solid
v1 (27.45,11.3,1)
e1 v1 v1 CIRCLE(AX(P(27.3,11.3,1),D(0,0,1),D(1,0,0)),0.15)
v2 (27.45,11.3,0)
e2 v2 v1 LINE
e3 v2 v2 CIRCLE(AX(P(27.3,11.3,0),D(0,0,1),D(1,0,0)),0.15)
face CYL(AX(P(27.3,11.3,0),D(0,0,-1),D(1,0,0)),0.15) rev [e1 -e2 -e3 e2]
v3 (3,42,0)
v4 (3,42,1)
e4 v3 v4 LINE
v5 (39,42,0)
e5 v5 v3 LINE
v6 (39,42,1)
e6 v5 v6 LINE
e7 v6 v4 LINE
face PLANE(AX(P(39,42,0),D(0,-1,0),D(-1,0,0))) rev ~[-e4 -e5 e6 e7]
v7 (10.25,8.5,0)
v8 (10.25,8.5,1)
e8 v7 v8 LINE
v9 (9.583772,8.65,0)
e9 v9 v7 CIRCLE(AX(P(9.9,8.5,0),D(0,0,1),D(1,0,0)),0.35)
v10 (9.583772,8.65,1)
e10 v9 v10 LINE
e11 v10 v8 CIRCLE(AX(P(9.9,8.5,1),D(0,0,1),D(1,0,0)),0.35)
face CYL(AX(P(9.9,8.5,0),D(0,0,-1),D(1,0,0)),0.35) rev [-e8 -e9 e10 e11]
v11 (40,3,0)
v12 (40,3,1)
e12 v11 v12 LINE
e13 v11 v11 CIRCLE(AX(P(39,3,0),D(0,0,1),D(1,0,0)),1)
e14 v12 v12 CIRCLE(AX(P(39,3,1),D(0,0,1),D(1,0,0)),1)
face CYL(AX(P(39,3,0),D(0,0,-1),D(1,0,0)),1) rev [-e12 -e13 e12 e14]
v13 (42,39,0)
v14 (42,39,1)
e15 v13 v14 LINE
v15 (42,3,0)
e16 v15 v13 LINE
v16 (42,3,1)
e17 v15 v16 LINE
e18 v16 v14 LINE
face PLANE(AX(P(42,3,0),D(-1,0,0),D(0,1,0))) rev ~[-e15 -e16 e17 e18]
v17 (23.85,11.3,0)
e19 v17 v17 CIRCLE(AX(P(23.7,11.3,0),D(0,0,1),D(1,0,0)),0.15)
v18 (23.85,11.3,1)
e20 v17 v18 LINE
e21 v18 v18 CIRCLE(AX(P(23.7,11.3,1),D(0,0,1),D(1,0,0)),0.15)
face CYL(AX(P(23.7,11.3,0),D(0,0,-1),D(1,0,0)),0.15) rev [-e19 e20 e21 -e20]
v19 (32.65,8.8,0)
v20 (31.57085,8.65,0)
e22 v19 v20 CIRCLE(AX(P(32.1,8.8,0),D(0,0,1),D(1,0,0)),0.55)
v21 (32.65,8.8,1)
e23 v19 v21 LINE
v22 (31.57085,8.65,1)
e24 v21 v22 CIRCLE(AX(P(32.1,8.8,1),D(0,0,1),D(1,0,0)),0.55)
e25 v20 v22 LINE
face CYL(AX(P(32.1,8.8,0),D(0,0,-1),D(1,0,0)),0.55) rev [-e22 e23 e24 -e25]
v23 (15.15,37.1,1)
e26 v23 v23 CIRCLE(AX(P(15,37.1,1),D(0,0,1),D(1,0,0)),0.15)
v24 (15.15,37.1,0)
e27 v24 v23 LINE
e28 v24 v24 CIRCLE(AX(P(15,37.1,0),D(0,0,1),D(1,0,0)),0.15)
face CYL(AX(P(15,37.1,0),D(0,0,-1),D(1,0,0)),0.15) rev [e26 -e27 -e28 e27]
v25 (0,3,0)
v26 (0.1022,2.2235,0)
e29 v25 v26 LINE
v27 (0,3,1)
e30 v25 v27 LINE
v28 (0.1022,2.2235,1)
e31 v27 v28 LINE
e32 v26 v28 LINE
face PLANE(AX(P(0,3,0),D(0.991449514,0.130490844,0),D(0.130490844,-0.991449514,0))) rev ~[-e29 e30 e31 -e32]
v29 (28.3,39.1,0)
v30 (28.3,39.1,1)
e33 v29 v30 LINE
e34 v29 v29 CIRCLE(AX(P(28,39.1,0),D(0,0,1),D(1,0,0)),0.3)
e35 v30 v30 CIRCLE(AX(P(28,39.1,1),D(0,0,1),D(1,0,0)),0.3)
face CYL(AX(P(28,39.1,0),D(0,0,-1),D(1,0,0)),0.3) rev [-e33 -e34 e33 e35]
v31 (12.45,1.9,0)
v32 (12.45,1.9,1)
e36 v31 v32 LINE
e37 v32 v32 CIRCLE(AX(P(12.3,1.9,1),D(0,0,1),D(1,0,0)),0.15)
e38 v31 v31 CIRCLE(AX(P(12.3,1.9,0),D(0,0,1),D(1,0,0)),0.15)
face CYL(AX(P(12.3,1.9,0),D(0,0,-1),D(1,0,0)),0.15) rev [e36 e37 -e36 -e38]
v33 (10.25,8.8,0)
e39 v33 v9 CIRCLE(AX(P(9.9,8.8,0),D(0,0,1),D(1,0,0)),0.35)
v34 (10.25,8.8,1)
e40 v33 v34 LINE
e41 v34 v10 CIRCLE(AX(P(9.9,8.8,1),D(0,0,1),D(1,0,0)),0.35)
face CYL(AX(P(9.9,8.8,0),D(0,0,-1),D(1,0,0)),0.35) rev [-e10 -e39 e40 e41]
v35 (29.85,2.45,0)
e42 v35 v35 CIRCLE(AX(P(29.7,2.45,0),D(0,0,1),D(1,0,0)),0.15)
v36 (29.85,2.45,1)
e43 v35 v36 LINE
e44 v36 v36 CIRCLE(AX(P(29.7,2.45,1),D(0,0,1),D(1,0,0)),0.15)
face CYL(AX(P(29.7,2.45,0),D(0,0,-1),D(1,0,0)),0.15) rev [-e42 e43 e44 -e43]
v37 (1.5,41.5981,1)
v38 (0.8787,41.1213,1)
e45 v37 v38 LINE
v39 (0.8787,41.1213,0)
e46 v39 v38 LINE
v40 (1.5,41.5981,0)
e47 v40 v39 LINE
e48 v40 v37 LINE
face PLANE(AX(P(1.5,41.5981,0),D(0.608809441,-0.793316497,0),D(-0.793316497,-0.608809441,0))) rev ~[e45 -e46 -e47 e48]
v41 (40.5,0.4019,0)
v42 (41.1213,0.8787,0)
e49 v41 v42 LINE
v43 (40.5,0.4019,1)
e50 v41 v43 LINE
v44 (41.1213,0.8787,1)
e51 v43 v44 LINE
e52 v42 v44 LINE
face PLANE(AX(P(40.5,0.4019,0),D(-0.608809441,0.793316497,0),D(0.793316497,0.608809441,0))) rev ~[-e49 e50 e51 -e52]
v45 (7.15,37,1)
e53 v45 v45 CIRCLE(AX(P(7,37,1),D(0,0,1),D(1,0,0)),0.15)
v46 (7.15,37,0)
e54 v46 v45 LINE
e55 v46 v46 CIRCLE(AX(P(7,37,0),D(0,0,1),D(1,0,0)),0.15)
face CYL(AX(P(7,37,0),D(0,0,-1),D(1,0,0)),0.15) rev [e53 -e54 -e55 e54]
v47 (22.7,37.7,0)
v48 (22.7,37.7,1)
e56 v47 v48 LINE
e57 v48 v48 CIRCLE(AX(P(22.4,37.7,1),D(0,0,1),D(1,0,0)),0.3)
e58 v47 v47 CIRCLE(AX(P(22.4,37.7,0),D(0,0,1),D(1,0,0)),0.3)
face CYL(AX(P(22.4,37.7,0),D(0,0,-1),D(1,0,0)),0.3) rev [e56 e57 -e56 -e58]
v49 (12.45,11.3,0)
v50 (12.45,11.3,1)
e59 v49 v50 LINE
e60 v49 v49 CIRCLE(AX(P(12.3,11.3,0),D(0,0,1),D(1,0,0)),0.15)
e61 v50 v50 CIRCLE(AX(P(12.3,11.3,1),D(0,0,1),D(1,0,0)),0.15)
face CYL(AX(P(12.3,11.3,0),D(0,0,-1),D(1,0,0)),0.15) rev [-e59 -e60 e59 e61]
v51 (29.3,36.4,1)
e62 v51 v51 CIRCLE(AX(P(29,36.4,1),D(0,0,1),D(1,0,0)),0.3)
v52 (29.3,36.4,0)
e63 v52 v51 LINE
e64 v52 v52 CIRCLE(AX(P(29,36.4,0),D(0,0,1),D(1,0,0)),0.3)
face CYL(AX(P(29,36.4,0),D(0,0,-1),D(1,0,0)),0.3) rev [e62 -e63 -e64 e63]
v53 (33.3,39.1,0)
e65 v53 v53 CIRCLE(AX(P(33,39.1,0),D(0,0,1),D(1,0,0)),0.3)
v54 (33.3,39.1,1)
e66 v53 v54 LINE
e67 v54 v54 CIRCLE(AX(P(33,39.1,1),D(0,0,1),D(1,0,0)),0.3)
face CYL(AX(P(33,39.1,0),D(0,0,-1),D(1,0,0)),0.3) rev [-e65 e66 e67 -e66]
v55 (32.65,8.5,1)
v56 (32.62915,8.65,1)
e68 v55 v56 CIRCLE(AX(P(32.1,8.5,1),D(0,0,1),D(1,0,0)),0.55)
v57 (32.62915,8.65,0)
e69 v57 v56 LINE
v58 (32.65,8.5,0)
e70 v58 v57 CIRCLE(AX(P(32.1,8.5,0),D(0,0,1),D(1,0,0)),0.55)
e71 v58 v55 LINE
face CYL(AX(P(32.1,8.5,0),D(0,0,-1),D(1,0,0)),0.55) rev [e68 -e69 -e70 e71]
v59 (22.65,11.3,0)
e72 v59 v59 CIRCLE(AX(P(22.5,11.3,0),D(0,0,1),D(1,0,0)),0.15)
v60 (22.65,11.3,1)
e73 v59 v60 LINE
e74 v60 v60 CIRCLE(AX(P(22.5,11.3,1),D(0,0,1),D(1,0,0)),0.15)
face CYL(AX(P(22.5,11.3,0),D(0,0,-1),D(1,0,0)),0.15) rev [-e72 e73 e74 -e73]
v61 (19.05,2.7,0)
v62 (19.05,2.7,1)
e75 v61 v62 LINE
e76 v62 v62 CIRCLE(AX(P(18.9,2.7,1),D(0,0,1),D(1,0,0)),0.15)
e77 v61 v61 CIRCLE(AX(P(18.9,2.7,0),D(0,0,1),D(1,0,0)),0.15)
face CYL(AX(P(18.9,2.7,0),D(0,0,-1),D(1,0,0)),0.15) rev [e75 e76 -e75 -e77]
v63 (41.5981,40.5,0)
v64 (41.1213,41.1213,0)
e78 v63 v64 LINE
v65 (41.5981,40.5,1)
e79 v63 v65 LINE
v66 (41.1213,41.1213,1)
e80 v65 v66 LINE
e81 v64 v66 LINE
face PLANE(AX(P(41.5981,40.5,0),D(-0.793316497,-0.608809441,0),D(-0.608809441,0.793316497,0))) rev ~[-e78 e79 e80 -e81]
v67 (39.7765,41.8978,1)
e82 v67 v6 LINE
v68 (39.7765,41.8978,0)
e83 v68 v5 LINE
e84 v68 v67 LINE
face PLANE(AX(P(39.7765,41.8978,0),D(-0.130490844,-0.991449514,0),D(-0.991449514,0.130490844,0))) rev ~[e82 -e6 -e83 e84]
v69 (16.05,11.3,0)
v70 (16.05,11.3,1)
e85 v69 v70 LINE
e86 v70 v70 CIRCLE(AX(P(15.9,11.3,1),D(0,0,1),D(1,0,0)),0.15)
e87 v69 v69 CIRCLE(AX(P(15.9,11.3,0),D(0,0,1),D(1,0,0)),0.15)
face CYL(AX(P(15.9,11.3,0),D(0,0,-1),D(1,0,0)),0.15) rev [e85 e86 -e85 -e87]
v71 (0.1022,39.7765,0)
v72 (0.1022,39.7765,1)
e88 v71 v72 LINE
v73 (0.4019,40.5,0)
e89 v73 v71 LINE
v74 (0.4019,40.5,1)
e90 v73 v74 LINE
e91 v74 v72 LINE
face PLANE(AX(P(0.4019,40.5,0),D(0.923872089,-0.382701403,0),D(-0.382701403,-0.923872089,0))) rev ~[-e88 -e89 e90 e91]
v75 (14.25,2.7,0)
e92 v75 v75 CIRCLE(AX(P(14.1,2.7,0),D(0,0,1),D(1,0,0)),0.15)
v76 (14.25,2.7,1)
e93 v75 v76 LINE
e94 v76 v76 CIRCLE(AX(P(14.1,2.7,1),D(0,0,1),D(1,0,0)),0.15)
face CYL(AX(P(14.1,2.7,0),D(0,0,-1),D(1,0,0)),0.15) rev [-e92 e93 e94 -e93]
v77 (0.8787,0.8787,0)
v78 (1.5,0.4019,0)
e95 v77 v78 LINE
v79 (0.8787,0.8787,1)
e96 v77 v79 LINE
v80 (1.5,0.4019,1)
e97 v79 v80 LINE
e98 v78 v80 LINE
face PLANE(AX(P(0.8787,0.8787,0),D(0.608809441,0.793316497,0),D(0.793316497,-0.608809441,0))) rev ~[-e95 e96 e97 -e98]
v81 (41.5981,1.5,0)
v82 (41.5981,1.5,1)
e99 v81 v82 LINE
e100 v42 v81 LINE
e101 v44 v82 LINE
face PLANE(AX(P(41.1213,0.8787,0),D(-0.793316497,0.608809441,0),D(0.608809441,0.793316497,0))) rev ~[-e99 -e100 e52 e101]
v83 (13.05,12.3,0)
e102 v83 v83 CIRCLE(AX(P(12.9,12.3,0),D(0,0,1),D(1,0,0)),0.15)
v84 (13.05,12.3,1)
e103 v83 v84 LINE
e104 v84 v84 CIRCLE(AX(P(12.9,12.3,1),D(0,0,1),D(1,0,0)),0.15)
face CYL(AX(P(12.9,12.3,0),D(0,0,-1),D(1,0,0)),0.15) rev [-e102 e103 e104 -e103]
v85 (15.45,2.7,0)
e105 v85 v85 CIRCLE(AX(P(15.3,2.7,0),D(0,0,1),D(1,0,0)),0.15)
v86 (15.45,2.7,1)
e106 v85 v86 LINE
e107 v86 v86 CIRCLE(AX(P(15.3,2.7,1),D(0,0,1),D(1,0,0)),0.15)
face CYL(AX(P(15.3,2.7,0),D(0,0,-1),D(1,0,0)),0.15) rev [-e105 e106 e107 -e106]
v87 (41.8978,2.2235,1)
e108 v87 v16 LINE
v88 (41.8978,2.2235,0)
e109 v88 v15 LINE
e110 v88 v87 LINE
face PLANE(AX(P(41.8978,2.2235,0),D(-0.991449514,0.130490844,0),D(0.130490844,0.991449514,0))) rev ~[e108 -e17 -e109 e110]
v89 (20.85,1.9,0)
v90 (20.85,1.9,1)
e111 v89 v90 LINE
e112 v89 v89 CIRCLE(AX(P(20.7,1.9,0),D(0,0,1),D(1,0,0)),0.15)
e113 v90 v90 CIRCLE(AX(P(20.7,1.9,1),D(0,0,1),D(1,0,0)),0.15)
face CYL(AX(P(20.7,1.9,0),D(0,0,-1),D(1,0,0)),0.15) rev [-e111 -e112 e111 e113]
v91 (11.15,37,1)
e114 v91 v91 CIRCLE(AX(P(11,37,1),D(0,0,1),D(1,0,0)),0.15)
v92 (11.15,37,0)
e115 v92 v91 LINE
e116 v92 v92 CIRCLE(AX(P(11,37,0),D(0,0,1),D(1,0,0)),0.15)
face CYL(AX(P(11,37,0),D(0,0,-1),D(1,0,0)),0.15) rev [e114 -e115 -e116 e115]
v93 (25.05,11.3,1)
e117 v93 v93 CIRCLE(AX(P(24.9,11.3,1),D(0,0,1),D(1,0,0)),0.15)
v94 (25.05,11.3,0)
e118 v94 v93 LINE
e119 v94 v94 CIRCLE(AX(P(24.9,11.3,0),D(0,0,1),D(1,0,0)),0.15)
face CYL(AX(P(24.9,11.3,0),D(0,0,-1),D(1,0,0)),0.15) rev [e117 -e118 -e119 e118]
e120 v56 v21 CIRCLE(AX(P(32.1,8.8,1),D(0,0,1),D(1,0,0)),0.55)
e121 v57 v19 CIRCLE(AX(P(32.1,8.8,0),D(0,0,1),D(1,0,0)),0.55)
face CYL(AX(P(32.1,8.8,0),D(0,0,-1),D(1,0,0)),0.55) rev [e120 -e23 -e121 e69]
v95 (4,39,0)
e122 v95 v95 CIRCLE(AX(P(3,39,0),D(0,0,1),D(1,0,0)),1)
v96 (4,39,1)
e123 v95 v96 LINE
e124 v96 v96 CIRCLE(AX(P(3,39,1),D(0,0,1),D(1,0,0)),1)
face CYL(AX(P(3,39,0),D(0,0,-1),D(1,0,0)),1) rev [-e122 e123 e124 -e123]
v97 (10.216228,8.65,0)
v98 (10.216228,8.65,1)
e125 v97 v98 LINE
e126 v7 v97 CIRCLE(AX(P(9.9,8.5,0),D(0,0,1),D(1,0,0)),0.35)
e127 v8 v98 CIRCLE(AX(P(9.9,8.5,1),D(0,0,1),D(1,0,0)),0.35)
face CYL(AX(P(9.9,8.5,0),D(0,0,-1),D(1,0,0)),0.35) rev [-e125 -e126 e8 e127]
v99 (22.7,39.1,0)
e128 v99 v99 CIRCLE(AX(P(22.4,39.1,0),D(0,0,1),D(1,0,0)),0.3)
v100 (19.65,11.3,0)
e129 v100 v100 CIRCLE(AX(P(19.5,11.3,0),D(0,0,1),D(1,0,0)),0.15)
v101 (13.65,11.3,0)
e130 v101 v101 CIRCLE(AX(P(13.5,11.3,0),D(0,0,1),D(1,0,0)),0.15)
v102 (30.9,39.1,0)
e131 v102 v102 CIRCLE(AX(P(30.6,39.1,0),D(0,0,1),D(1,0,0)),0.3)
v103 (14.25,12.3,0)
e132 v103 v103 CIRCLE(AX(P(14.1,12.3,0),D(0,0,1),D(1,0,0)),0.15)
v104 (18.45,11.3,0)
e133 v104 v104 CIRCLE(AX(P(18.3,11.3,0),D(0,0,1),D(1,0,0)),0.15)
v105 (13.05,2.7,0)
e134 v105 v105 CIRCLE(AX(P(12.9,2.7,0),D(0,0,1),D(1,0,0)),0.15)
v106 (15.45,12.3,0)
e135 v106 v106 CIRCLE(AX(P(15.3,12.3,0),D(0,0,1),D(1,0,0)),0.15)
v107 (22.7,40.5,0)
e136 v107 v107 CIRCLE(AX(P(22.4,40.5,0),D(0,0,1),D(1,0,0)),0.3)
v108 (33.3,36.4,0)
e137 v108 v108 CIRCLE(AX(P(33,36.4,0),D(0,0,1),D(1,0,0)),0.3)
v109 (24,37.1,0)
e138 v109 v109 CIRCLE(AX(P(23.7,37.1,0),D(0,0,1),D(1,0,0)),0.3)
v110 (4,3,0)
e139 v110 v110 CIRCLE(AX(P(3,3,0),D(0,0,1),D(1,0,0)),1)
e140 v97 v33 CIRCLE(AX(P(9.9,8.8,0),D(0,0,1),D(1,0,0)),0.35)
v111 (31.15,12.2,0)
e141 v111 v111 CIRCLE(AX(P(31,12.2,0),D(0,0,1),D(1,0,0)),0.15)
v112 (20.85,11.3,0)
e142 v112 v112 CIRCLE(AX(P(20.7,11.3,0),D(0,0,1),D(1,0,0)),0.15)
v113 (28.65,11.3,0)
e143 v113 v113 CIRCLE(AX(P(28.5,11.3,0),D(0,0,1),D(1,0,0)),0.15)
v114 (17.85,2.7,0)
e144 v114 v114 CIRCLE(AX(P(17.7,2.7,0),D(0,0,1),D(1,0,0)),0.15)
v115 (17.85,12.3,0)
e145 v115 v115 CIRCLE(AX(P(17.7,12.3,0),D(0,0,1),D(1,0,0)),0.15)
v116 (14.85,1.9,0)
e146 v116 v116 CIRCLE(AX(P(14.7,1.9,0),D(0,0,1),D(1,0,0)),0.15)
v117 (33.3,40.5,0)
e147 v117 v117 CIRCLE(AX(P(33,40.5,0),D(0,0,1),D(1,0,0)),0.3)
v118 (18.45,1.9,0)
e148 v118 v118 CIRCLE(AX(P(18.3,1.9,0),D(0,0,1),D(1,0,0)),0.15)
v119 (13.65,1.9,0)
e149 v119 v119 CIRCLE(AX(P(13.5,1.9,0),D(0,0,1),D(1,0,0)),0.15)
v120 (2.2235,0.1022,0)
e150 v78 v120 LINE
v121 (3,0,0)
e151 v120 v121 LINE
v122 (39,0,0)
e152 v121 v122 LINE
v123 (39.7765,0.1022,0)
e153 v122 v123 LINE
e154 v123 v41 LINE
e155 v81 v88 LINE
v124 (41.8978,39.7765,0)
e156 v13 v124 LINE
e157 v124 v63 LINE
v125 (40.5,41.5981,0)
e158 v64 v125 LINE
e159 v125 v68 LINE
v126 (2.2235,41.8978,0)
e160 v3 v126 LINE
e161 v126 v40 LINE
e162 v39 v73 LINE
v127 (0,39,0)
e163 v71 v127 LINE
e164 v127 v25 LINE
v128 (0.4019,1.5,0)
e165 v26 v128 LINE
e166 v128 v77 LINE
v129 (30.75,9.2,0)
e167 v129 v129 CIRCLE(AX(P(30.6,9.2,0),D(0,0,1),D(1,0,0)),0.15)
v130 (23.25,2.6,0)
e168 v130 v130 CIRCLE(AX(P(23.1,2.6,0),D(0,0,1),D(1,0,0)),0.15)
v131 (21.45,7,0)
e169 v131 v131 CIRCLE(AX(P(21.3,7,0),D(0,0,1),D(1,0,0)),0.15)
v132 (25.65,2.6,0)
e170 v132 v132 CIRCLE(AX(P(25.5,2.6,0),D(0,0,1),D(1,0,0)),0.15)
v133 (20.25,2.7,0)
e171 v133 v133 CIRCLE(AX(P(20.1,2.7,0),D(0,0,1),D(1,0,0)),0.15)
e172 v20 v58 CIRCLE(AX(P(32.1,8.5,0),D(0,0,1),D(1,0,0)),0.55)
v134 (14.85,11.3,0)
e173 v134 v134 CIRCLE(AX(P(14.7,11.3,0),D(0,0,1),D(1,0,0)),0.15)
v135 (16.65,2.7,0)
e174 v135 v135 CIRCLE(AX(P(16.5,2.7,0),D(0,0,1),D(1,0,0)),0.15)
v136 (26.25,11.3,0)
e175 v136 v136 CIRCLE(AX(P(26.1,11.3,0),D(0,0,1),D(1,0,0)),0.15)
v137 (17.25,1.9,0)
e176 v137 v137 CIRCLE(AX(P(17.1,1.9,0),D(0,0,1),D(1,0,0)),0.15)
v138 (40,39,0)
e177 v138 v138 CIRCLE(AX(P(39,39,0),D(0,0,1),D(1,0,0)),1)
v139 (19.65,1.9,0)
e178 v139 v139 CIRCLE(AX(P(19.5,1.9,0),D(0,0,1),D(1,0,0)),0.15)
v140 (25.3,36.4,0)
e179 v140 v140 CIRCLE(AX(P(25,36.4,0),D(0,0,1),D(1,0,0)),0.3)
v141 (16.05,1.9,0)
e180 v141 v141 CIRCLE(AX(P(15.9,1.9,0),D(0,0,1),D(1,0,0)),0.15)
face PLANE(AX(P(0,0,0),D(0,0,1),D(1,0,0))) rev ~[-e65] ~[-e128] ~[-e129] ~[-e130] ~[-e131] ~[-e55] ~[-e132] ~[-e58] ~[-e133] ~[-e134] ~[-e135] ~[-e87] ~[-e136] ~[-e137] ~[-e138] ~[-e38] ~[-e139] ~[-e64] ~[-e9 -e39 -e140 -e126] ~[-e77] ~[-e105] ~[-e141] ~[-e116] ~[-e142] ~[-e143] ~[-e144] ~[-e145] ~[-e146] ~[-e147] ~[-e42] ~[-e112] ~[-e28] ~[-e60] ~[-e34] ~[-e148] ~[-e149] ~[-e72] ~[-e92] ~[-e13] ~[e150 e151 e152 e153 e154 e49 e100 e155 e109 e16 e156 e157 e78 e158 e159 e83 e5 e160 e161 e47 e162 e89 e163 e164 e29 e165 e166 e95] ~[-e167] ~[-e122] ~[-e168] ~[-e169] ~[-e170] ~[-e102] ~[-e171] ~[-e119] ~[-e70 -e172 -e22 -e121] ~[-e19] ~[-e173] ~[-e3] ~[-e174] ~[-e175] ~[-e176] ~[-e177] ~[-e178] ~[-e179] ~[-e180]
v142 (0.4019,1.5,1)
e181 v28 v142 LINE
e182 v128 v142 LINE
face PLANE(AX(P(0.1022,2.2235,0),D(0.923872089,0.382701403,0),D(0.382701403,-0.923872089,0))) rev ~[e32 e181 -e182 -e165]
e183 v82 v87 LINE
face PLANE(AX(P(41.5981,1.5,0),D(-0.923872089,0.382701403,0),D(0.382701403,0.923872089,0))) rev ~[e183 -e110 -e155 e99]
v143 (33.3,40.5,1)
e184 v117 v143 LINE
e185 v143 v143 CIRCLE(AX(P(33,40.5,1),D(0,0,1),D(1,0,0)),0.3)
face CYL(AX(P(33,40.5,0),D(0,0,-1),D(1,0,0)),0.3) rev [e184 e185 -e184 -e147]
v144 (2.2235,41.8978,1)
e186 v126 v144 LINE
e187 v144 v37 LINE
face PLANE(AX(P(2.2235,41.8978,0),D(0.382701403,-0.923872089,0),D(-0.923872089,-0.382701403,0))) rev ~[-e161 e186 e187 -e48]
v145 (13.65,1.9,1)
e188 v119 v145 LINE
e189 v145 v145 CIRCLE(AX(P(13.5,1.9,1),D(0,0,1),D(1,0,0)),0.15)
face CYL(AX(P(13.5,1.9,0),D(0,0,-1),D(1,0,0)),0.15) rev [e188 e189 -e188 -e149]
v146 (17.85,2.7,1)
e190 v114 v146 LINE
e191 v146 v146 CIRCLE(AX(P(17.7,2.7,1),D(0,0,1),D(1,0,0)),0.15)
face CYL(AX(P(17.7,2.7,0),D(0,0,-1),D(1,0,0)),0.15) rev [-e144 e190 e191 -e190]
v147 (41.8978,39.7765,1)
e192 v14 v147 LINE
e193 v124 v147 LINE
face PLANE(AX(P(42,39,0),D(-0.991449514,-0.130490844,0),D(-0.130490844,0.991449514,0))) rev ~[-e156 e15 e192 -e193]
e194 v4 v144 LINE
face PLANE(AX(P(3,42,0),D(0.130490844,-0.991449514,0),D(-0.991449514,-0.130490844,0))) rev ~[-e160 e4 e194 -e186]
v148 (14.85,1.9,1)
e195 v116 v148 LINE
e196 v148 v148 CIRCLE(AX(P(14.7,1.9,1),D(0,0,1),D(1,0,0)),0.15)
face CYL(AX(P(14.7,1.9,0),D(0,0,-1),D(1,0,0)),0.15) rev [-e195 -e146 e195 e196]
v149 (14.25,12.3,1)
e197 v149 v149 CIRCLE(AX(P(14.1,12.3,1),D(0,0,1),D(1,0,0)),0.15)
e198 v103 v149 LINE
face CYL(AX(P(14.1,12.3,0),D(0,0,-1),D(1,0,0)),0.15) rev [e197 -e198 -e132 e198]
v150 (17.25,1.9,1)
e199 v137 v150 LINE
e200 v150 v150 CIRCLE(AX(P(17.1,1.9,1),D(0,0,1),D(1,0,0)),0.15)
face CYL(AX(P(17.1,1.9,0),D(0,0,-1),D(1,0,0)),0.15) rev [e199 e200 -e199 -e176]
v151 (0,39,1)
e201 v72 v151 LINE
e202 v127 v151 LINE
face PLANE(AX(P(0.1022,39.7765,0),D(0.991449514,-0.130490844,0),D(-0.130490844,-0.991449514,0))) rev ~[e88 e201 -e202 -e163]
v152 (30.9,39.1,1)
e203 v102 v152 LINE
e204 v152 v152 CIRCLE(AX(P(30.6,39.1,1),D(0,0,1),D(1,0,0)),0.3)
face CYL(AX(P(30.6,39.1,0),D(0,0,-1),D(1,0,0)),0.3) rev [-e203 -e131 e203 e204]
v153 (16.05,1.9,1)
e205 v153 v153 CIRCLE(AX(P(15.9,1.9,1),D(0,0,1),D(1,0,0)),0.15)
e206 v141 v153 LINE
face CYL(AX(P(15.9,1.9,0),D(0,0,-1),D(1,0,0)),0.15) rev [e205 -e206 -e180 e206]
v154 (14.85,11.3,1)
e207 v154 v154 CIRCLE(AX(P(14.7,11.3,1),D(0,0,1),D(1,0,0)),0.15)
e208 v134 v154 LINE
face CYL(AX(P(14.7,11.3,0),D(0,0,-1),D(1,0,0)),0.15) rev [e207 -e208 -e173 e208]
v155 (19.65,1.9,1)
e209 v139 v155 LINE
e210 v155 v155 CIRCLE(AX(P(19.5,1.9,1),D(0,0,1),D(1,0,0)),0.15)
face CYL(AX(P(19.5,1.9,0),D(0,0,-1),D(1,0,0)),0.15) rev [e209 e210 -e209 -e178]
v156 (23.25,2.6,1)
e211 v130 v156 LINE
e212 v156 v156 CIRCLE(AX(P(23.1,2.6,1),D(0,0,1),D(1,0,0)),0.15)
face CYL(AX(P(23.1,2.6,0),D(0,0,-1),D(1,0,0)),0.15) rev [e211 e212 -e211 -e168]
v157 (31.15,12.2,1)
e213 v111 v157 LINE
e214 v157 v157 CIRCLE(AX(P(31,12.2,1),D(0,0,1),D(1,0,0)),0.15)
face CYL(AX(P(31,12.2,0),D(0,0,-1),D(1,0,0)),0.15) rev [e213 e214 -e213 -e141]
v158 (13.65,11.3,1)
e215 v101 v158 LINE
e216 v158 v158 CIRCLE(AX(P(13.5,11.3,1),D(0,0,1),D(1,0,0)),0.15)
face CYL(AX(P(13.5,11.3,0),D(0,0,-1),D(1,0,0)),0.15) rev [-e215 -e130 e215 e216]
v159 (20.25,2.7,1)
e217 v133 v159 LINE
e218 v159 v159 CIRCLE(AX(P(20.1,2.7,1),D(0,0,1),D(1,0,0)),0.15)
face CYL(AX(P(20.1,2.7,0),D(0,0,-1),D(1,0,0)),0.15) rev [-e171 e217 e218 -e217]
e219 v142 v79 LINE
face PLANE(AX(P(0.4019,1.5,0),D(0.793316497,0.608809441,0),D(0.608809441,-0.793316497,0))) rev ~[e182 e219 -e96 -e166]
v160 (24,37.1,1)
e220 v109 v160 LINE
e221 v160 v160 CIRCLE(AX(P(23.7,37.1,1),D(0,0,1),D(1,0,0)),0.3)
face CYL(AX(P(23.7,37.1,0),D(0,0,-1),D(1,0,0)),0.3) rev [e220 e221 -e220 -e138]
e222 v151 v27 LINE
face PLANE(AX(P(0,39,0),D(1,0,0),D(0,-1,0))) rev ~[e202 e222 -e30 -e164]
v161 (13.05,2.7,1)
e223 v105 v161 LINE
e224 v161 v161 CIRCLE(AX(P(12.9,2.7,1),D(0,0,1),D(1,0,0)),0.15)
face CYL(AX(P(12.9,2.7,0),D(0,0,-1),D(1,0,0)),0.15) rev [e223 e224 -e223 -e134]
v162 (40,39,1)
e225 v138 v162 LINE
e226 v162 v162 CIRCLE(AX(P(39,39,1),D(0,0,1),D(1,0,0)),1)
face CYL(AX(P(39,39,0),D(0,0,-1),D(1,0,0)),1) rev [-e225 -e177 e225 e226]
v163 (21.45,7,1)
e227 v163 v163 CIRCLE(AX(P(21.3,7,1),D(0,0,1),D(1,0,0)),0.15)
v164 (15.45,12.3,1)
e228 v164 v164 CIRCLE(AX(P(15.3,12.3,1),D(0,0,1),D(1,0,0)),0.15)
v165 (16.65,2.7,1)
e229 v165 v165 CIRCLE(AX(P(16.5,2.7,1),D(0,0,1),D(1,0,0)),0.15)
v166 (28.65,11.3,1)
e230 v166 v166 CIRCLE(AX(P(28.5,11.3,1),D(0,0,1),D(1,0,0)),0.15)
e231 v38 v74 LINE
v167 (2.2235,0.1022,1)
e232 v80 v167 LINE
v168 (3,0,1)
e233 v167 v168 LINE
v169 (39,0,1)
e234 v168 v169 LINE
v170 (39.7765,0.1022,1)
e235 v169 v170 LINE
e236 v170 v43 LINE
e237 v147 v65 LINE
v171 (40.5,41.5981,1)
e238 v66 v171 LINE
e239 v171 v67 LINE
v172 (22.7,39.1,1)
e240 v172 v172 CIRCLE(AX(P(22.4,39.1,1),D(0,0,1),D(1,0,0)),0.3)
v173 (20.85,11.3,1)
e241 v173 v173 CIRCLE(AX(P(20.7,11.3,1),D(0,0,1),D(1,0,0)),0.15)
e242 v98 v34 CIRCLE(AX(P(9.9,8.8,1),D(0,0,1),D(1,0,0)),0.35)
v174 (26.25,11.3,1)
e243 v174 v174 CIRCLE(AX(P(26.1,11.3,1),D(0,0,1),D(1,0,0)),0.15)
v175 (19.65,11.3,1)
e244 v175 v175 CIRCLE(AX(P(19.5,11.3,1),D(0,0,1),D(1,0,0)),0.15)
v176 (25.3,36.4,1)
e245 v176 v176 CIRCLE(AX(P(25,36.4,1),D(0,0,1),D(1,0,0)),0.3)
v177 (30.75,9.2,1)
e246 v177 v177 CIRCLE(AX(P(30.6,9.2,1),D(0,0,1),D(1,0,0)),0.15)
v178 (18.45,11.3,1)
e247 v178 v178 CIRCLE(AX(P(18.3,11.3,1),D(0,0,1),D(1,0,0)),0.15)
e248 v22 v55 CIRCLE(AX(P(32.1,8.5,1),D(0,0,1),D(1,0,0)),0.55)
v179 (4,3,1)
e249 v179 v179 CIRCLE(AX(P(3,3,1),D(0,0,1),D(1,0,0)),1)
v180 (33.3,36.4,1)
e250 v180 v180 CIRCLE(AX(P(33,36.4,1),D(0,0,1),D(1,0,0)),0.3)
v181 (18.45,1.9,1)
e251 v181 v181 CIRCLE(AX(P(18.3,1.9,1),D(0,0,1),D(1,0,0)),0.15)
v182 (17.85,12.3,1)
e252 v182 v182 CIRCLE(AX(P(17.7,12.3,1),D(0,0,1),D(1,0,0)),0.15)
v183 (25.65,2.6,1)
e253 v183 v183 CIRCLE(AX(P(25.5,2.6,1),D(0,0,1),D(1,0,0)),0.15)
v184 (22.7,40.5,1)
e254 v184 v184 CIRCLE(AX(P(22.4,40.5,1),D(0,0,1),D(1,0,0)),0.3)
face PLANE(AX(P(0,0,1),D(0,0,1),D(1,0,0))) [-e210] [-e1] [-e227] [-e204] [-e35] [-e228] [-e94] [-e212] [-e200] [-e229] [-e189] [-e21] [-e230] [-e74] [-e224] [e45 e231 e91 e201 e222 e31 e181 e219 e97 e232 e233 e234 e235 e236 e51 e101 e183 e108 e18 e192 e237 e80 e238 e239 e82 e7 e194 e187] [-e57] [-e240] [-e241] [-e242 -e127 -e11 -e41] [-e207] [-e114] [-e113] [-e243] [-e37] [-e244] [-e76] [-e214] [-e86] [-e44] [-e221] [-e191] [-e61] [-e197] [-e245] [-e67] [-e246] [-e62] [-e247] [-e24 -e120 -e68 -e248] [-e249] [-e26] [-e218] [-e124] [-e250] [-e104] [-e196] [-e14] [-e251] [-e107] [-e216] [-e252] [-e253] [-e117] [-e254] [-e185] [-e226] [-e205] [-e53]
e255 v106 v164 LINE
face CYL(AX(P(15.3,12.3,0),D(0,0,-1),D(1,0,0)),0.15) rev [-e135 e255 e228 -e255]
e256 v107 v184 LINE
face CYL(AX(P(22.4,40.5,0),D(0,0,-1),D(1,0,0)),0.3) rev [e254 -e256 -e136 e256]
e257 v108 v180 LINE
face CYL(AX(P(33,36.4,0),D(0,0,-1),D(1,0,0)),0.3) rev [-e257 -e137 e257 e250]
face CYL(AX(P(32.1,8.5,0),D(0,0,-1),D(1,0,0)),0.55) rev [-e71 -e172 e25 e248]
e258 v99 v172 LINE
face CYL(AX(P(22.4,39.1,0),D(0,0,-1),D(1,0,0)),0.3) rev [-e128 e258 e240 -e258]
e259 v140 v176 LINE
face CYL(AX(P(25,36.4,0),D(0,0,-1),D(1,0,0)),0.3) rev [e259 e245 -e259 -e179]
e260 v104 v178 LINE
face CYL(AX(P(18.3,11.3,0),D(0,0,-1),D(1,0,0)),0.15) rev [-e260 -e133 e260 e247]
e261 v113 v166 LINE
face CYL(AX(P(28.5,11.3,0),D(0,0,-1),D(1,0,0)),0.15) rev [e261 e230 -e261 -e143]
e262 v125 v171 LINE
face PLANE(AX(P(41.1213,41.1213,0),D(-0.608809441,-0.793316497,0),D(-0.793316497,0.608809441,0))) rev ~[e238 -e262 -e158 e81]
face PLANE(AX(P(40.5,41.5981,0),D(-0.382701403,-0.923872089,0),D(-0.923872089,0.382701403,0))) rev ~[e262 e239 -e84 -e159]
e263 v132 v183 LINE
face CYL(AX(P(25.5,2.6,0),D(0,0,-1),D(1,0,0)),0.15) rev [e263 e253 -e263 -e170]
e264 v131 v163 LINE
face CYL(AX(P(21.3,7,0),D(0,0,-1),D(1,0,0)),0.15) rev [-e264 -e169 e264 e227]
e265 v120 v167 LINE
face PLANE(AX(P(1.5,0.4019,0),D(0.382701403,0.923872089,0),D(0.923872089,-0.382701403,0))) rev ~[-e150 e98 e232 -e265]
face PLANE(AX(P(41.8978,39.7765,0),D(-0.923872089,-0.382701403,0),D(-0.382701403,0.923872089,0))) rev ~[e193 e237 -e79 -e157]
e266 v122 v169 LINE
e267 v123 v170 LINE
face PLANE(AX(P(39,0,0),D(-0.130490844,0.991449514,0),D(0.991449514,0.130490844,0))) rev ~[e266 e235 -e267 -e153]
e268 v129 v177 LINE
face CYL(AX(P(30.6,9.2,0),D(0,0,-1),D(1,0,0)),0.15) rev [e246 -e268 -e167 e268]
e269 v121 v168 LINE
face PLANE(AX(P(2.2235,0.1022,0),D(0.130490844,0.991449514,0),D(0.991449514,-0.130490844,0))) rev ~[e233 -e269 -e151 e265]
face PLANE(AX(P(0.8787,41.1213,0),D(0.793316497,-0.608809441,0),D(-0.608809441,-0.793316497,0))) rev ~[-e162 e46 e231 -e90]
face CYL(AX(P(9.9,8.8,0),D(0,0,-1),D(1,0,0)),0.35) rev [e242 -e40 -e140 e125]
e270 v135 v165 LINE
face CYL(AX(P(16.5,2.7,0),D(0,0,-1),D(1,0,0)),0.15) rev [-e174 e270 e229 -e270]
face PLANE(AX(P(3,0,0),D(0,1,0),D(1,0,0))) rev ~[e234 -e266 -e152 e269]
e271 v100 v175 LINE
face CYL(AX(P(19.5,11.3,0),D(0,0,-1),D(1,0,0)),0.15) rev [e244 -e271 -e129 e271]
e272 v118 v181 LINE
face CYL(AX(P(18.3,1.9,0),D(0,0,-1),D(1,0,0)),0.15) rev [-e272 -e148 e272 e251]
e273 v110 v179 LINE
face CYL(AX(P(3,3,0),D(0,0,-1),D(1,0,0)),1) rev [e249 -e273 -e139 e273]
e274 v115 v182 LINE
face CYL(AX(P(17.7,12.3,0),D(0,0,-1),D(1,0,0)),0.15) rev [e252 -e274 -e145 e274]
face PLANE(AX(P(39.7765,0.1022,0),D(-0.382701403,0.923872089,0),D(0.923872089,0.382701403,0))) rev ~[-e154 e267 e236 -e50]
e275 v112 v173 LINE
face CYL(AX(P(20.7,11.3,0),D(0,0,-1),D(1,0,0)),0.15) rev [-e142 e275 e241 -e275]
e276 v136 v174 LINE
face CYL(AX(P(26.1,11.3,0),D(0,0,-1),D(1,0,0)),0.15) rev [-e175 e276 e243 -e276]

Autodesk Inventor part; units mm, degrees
ref_plane "YZ Plane" through (0, 0, 0) normal (1, 0, 0) x (0, 1, 0)
ref_plane "XZ Plane" through (0, 0, 0) normal (0, 1, 0) x (-1, 0, 0)
ref_plane "XY Plane" through (0, 0, 0) normal (0, 0, 1) x (1, 0, 0)
sketch "Sketch1" plane through (0, 0, 0) normal (0, 0, 1) x (1, 0, 0)
  line L0 (42, 3) -> (42, 39)
  line L1 (42, 39) -> (41.8978, 39.7765)
  line L2 (41.8978, 39.7765) -> (41.5981, 40.5)
  line L3 (41.5981, 40.5) -> (41.1213, 41.1213)
  line L4 (41.1213, 41.1213) -> (40.5, 41.5981)
  line L5 (40.5, 41.5981) -> (39.7765, 41.8978)
  line L6 (39.7765, 41.8978) -> (39, 42)
  line L7 (39, 42) -> (3, 42)
  line L8 (3, 42) -> (2.2235, 41.8978)
  line L9 (2.2235, 41.8978) -> (1.5, 41.5981)
  line L10 (1.5, 41.5981) -> (0.8787, 41.1213)
  line L11 (0.8787, 41.1213) -> (0.4019, 40.5)
  line L12 (0.4019, 40.5) -> (0.1022, 39.7765)
  line L13 (0.1022, 39.7765) -> (0, 39)
  line L14 (0, 39) -> (0, 3)
  line L15 (0, 3) -> (0.1022, 2.2235)
  line L16 (0.1022, 2.2235) -> (0.4019, 1.5)
  line L17 (0.4019, 1.5) -> (0.8787, 0.8787)
  line L18 (0.8787, 0.8787) -> (1.5, 0.4019)
  line L19 (1.5, 0.4019) -> (2.2235, 0.1022)
  line L20 (2.2235, 0.1022) -> (3, 0)
  line L21 (3, 0) -> (39, 0)
  line L22 (39, 0) -> (39.7765, 0.1022)
  line L23 (39.7765, 0.1022) -> (40.5, 0.4019)
  line L24 (40.5, 0.4019) -> (41.1213, 0.8787)
  line L25 (41.1213, 0.8787) -> (41.5981, 1.5)
  line L26 (41.5981, 1.5) -> (41.8978, 2.2235)
  line L27 (41.8978, 2.2235) -> (42, 3)
  circle A0 centre (32.1, 8.8) radius 0.55
  circle A1 centre (9.9, 8.8) radius 0.35
  circle A2 centre (32.1, 8.5) radius 0.55
  circle A3 centre (9.9, 8.5) radius 0.35
  circle A4 centre (14.1, 12.3) radius 0.15
  circle A5 centre (29.7, 2.45) radius 0.15
  circle A6 centre (30.6, 9.2) radius 0.15
  circle A7 centre (27.3, 11.3) radius 0.15
  circle A8 centre (24.9, 11.3) radius 0.15
  circle A9 centre (23.1, 2.6) radius 0.15
  circle A10 centre (22.5, 11.3) radius 0.15
  circle A11 centre (19.5, 11.3) radius 0.15
  circle A12 centre (17.7, 12.3) radius 0.15
  circle A13 centre (3, 3) radius 1
  circle A14 centre (3, 39) radius 1
  circle A15 centre (39, 39) radius 1
  circle A16 centre (39, 3) radius 1
  circle A17 centre (20.7, 1.9) radius 0.15
  circle A18 centre (25.5, 2.6) radius 0.15
  circle A19 centre (21.3, 7) radius 0.15
  circle A20 centre (13.5, 11.3) radius 0.15
  circle A21 centre (15.9, 11.3) radius 0.15
  circle A22 centre (18.3, 11.3) radius 0.15
  circle A23 centre (20.7, 11.3) radius 0.15
  circle A24 centre (23.7, 11.3) radius 0.15
  circle A25 centre (26.1, 11.3) radius 0.15
  circle A26 centre (28.5, 11.3) radius 0.15
  circle A27 centre (15.3, 12.3) radius 0.15
  circle A28 centre (14.7, 11.3) radius 0.15
  circle A29 centre (14.1, 2.7) radius 0.15
  circle A30 centre (14.7, 1.9) radius 0.15
  circle A31 centre (15.3, 2.7) radius 0.15
  circle A32 centre (15.9, 1.9) radius 0.15
  circle A33 centre (16.5, 2.7) radius 0.15
  circle A34 centre (17.1, 1.9) radius 0.15
  circle A35 centre (17.7, 2.7) radius 0.15
  circle A36 centre (18.3, 1.9) radius 0.15
  circle A37 centre (31, 12.2) radius 0.15
  circle A38 centre (18.9, 2.7) radius 0.15
  circle A39 centre (19.5, 1.9) radius 0.15
  circle A40 centre (20.1, 2.7) radius 0.15
  circle A41 centre (12.9, 2.7) radius 0.15
  circle A42 centre (15, 37.1) radius 0.15
  circle A43 centre (12.3, 1.9) radius 0.15
  circle A44 centre (11, 37) radius 0.15
  circle A45 centre (22.4, 40.5) radius 0.3
  circle A46 centre (22.4, 39.1) radius 0.3
  circle A47 centre (22.4, 37.7) radius 0.3
  circle A48 centre (23.7, 37.1) radius 0.3
  circle A49 centre (25, 36.4) radius 0.3
  circle A50 centre (29, 36.4) radius 0.3
  circle A51 centre (28, 39.1) radius 0.3
  circle A52 centre (30.6, 39.1) radius 0.3
  circle A53 centre (33, 40.5) radius 0.3
  circle A54 centre (33, 39.1) radius 0.3
  circle A55 centre (33, 36.4) radius 0.3
  circle A56 centre (13.5, 1.9) radius 0.15
  circle A57 centre (7, 37) radius 0.15
  circle A58 centre (12.9, 12.3) radius 0.15
  circle A59 centre (12.3, 11.3) radius 0.15
extrude "PQ60 Radio FV1.brd_Outline" add sketch "Sketch1" along normal blind 1
properties part number "PQ60 Radio FV1.brd_Outline"
